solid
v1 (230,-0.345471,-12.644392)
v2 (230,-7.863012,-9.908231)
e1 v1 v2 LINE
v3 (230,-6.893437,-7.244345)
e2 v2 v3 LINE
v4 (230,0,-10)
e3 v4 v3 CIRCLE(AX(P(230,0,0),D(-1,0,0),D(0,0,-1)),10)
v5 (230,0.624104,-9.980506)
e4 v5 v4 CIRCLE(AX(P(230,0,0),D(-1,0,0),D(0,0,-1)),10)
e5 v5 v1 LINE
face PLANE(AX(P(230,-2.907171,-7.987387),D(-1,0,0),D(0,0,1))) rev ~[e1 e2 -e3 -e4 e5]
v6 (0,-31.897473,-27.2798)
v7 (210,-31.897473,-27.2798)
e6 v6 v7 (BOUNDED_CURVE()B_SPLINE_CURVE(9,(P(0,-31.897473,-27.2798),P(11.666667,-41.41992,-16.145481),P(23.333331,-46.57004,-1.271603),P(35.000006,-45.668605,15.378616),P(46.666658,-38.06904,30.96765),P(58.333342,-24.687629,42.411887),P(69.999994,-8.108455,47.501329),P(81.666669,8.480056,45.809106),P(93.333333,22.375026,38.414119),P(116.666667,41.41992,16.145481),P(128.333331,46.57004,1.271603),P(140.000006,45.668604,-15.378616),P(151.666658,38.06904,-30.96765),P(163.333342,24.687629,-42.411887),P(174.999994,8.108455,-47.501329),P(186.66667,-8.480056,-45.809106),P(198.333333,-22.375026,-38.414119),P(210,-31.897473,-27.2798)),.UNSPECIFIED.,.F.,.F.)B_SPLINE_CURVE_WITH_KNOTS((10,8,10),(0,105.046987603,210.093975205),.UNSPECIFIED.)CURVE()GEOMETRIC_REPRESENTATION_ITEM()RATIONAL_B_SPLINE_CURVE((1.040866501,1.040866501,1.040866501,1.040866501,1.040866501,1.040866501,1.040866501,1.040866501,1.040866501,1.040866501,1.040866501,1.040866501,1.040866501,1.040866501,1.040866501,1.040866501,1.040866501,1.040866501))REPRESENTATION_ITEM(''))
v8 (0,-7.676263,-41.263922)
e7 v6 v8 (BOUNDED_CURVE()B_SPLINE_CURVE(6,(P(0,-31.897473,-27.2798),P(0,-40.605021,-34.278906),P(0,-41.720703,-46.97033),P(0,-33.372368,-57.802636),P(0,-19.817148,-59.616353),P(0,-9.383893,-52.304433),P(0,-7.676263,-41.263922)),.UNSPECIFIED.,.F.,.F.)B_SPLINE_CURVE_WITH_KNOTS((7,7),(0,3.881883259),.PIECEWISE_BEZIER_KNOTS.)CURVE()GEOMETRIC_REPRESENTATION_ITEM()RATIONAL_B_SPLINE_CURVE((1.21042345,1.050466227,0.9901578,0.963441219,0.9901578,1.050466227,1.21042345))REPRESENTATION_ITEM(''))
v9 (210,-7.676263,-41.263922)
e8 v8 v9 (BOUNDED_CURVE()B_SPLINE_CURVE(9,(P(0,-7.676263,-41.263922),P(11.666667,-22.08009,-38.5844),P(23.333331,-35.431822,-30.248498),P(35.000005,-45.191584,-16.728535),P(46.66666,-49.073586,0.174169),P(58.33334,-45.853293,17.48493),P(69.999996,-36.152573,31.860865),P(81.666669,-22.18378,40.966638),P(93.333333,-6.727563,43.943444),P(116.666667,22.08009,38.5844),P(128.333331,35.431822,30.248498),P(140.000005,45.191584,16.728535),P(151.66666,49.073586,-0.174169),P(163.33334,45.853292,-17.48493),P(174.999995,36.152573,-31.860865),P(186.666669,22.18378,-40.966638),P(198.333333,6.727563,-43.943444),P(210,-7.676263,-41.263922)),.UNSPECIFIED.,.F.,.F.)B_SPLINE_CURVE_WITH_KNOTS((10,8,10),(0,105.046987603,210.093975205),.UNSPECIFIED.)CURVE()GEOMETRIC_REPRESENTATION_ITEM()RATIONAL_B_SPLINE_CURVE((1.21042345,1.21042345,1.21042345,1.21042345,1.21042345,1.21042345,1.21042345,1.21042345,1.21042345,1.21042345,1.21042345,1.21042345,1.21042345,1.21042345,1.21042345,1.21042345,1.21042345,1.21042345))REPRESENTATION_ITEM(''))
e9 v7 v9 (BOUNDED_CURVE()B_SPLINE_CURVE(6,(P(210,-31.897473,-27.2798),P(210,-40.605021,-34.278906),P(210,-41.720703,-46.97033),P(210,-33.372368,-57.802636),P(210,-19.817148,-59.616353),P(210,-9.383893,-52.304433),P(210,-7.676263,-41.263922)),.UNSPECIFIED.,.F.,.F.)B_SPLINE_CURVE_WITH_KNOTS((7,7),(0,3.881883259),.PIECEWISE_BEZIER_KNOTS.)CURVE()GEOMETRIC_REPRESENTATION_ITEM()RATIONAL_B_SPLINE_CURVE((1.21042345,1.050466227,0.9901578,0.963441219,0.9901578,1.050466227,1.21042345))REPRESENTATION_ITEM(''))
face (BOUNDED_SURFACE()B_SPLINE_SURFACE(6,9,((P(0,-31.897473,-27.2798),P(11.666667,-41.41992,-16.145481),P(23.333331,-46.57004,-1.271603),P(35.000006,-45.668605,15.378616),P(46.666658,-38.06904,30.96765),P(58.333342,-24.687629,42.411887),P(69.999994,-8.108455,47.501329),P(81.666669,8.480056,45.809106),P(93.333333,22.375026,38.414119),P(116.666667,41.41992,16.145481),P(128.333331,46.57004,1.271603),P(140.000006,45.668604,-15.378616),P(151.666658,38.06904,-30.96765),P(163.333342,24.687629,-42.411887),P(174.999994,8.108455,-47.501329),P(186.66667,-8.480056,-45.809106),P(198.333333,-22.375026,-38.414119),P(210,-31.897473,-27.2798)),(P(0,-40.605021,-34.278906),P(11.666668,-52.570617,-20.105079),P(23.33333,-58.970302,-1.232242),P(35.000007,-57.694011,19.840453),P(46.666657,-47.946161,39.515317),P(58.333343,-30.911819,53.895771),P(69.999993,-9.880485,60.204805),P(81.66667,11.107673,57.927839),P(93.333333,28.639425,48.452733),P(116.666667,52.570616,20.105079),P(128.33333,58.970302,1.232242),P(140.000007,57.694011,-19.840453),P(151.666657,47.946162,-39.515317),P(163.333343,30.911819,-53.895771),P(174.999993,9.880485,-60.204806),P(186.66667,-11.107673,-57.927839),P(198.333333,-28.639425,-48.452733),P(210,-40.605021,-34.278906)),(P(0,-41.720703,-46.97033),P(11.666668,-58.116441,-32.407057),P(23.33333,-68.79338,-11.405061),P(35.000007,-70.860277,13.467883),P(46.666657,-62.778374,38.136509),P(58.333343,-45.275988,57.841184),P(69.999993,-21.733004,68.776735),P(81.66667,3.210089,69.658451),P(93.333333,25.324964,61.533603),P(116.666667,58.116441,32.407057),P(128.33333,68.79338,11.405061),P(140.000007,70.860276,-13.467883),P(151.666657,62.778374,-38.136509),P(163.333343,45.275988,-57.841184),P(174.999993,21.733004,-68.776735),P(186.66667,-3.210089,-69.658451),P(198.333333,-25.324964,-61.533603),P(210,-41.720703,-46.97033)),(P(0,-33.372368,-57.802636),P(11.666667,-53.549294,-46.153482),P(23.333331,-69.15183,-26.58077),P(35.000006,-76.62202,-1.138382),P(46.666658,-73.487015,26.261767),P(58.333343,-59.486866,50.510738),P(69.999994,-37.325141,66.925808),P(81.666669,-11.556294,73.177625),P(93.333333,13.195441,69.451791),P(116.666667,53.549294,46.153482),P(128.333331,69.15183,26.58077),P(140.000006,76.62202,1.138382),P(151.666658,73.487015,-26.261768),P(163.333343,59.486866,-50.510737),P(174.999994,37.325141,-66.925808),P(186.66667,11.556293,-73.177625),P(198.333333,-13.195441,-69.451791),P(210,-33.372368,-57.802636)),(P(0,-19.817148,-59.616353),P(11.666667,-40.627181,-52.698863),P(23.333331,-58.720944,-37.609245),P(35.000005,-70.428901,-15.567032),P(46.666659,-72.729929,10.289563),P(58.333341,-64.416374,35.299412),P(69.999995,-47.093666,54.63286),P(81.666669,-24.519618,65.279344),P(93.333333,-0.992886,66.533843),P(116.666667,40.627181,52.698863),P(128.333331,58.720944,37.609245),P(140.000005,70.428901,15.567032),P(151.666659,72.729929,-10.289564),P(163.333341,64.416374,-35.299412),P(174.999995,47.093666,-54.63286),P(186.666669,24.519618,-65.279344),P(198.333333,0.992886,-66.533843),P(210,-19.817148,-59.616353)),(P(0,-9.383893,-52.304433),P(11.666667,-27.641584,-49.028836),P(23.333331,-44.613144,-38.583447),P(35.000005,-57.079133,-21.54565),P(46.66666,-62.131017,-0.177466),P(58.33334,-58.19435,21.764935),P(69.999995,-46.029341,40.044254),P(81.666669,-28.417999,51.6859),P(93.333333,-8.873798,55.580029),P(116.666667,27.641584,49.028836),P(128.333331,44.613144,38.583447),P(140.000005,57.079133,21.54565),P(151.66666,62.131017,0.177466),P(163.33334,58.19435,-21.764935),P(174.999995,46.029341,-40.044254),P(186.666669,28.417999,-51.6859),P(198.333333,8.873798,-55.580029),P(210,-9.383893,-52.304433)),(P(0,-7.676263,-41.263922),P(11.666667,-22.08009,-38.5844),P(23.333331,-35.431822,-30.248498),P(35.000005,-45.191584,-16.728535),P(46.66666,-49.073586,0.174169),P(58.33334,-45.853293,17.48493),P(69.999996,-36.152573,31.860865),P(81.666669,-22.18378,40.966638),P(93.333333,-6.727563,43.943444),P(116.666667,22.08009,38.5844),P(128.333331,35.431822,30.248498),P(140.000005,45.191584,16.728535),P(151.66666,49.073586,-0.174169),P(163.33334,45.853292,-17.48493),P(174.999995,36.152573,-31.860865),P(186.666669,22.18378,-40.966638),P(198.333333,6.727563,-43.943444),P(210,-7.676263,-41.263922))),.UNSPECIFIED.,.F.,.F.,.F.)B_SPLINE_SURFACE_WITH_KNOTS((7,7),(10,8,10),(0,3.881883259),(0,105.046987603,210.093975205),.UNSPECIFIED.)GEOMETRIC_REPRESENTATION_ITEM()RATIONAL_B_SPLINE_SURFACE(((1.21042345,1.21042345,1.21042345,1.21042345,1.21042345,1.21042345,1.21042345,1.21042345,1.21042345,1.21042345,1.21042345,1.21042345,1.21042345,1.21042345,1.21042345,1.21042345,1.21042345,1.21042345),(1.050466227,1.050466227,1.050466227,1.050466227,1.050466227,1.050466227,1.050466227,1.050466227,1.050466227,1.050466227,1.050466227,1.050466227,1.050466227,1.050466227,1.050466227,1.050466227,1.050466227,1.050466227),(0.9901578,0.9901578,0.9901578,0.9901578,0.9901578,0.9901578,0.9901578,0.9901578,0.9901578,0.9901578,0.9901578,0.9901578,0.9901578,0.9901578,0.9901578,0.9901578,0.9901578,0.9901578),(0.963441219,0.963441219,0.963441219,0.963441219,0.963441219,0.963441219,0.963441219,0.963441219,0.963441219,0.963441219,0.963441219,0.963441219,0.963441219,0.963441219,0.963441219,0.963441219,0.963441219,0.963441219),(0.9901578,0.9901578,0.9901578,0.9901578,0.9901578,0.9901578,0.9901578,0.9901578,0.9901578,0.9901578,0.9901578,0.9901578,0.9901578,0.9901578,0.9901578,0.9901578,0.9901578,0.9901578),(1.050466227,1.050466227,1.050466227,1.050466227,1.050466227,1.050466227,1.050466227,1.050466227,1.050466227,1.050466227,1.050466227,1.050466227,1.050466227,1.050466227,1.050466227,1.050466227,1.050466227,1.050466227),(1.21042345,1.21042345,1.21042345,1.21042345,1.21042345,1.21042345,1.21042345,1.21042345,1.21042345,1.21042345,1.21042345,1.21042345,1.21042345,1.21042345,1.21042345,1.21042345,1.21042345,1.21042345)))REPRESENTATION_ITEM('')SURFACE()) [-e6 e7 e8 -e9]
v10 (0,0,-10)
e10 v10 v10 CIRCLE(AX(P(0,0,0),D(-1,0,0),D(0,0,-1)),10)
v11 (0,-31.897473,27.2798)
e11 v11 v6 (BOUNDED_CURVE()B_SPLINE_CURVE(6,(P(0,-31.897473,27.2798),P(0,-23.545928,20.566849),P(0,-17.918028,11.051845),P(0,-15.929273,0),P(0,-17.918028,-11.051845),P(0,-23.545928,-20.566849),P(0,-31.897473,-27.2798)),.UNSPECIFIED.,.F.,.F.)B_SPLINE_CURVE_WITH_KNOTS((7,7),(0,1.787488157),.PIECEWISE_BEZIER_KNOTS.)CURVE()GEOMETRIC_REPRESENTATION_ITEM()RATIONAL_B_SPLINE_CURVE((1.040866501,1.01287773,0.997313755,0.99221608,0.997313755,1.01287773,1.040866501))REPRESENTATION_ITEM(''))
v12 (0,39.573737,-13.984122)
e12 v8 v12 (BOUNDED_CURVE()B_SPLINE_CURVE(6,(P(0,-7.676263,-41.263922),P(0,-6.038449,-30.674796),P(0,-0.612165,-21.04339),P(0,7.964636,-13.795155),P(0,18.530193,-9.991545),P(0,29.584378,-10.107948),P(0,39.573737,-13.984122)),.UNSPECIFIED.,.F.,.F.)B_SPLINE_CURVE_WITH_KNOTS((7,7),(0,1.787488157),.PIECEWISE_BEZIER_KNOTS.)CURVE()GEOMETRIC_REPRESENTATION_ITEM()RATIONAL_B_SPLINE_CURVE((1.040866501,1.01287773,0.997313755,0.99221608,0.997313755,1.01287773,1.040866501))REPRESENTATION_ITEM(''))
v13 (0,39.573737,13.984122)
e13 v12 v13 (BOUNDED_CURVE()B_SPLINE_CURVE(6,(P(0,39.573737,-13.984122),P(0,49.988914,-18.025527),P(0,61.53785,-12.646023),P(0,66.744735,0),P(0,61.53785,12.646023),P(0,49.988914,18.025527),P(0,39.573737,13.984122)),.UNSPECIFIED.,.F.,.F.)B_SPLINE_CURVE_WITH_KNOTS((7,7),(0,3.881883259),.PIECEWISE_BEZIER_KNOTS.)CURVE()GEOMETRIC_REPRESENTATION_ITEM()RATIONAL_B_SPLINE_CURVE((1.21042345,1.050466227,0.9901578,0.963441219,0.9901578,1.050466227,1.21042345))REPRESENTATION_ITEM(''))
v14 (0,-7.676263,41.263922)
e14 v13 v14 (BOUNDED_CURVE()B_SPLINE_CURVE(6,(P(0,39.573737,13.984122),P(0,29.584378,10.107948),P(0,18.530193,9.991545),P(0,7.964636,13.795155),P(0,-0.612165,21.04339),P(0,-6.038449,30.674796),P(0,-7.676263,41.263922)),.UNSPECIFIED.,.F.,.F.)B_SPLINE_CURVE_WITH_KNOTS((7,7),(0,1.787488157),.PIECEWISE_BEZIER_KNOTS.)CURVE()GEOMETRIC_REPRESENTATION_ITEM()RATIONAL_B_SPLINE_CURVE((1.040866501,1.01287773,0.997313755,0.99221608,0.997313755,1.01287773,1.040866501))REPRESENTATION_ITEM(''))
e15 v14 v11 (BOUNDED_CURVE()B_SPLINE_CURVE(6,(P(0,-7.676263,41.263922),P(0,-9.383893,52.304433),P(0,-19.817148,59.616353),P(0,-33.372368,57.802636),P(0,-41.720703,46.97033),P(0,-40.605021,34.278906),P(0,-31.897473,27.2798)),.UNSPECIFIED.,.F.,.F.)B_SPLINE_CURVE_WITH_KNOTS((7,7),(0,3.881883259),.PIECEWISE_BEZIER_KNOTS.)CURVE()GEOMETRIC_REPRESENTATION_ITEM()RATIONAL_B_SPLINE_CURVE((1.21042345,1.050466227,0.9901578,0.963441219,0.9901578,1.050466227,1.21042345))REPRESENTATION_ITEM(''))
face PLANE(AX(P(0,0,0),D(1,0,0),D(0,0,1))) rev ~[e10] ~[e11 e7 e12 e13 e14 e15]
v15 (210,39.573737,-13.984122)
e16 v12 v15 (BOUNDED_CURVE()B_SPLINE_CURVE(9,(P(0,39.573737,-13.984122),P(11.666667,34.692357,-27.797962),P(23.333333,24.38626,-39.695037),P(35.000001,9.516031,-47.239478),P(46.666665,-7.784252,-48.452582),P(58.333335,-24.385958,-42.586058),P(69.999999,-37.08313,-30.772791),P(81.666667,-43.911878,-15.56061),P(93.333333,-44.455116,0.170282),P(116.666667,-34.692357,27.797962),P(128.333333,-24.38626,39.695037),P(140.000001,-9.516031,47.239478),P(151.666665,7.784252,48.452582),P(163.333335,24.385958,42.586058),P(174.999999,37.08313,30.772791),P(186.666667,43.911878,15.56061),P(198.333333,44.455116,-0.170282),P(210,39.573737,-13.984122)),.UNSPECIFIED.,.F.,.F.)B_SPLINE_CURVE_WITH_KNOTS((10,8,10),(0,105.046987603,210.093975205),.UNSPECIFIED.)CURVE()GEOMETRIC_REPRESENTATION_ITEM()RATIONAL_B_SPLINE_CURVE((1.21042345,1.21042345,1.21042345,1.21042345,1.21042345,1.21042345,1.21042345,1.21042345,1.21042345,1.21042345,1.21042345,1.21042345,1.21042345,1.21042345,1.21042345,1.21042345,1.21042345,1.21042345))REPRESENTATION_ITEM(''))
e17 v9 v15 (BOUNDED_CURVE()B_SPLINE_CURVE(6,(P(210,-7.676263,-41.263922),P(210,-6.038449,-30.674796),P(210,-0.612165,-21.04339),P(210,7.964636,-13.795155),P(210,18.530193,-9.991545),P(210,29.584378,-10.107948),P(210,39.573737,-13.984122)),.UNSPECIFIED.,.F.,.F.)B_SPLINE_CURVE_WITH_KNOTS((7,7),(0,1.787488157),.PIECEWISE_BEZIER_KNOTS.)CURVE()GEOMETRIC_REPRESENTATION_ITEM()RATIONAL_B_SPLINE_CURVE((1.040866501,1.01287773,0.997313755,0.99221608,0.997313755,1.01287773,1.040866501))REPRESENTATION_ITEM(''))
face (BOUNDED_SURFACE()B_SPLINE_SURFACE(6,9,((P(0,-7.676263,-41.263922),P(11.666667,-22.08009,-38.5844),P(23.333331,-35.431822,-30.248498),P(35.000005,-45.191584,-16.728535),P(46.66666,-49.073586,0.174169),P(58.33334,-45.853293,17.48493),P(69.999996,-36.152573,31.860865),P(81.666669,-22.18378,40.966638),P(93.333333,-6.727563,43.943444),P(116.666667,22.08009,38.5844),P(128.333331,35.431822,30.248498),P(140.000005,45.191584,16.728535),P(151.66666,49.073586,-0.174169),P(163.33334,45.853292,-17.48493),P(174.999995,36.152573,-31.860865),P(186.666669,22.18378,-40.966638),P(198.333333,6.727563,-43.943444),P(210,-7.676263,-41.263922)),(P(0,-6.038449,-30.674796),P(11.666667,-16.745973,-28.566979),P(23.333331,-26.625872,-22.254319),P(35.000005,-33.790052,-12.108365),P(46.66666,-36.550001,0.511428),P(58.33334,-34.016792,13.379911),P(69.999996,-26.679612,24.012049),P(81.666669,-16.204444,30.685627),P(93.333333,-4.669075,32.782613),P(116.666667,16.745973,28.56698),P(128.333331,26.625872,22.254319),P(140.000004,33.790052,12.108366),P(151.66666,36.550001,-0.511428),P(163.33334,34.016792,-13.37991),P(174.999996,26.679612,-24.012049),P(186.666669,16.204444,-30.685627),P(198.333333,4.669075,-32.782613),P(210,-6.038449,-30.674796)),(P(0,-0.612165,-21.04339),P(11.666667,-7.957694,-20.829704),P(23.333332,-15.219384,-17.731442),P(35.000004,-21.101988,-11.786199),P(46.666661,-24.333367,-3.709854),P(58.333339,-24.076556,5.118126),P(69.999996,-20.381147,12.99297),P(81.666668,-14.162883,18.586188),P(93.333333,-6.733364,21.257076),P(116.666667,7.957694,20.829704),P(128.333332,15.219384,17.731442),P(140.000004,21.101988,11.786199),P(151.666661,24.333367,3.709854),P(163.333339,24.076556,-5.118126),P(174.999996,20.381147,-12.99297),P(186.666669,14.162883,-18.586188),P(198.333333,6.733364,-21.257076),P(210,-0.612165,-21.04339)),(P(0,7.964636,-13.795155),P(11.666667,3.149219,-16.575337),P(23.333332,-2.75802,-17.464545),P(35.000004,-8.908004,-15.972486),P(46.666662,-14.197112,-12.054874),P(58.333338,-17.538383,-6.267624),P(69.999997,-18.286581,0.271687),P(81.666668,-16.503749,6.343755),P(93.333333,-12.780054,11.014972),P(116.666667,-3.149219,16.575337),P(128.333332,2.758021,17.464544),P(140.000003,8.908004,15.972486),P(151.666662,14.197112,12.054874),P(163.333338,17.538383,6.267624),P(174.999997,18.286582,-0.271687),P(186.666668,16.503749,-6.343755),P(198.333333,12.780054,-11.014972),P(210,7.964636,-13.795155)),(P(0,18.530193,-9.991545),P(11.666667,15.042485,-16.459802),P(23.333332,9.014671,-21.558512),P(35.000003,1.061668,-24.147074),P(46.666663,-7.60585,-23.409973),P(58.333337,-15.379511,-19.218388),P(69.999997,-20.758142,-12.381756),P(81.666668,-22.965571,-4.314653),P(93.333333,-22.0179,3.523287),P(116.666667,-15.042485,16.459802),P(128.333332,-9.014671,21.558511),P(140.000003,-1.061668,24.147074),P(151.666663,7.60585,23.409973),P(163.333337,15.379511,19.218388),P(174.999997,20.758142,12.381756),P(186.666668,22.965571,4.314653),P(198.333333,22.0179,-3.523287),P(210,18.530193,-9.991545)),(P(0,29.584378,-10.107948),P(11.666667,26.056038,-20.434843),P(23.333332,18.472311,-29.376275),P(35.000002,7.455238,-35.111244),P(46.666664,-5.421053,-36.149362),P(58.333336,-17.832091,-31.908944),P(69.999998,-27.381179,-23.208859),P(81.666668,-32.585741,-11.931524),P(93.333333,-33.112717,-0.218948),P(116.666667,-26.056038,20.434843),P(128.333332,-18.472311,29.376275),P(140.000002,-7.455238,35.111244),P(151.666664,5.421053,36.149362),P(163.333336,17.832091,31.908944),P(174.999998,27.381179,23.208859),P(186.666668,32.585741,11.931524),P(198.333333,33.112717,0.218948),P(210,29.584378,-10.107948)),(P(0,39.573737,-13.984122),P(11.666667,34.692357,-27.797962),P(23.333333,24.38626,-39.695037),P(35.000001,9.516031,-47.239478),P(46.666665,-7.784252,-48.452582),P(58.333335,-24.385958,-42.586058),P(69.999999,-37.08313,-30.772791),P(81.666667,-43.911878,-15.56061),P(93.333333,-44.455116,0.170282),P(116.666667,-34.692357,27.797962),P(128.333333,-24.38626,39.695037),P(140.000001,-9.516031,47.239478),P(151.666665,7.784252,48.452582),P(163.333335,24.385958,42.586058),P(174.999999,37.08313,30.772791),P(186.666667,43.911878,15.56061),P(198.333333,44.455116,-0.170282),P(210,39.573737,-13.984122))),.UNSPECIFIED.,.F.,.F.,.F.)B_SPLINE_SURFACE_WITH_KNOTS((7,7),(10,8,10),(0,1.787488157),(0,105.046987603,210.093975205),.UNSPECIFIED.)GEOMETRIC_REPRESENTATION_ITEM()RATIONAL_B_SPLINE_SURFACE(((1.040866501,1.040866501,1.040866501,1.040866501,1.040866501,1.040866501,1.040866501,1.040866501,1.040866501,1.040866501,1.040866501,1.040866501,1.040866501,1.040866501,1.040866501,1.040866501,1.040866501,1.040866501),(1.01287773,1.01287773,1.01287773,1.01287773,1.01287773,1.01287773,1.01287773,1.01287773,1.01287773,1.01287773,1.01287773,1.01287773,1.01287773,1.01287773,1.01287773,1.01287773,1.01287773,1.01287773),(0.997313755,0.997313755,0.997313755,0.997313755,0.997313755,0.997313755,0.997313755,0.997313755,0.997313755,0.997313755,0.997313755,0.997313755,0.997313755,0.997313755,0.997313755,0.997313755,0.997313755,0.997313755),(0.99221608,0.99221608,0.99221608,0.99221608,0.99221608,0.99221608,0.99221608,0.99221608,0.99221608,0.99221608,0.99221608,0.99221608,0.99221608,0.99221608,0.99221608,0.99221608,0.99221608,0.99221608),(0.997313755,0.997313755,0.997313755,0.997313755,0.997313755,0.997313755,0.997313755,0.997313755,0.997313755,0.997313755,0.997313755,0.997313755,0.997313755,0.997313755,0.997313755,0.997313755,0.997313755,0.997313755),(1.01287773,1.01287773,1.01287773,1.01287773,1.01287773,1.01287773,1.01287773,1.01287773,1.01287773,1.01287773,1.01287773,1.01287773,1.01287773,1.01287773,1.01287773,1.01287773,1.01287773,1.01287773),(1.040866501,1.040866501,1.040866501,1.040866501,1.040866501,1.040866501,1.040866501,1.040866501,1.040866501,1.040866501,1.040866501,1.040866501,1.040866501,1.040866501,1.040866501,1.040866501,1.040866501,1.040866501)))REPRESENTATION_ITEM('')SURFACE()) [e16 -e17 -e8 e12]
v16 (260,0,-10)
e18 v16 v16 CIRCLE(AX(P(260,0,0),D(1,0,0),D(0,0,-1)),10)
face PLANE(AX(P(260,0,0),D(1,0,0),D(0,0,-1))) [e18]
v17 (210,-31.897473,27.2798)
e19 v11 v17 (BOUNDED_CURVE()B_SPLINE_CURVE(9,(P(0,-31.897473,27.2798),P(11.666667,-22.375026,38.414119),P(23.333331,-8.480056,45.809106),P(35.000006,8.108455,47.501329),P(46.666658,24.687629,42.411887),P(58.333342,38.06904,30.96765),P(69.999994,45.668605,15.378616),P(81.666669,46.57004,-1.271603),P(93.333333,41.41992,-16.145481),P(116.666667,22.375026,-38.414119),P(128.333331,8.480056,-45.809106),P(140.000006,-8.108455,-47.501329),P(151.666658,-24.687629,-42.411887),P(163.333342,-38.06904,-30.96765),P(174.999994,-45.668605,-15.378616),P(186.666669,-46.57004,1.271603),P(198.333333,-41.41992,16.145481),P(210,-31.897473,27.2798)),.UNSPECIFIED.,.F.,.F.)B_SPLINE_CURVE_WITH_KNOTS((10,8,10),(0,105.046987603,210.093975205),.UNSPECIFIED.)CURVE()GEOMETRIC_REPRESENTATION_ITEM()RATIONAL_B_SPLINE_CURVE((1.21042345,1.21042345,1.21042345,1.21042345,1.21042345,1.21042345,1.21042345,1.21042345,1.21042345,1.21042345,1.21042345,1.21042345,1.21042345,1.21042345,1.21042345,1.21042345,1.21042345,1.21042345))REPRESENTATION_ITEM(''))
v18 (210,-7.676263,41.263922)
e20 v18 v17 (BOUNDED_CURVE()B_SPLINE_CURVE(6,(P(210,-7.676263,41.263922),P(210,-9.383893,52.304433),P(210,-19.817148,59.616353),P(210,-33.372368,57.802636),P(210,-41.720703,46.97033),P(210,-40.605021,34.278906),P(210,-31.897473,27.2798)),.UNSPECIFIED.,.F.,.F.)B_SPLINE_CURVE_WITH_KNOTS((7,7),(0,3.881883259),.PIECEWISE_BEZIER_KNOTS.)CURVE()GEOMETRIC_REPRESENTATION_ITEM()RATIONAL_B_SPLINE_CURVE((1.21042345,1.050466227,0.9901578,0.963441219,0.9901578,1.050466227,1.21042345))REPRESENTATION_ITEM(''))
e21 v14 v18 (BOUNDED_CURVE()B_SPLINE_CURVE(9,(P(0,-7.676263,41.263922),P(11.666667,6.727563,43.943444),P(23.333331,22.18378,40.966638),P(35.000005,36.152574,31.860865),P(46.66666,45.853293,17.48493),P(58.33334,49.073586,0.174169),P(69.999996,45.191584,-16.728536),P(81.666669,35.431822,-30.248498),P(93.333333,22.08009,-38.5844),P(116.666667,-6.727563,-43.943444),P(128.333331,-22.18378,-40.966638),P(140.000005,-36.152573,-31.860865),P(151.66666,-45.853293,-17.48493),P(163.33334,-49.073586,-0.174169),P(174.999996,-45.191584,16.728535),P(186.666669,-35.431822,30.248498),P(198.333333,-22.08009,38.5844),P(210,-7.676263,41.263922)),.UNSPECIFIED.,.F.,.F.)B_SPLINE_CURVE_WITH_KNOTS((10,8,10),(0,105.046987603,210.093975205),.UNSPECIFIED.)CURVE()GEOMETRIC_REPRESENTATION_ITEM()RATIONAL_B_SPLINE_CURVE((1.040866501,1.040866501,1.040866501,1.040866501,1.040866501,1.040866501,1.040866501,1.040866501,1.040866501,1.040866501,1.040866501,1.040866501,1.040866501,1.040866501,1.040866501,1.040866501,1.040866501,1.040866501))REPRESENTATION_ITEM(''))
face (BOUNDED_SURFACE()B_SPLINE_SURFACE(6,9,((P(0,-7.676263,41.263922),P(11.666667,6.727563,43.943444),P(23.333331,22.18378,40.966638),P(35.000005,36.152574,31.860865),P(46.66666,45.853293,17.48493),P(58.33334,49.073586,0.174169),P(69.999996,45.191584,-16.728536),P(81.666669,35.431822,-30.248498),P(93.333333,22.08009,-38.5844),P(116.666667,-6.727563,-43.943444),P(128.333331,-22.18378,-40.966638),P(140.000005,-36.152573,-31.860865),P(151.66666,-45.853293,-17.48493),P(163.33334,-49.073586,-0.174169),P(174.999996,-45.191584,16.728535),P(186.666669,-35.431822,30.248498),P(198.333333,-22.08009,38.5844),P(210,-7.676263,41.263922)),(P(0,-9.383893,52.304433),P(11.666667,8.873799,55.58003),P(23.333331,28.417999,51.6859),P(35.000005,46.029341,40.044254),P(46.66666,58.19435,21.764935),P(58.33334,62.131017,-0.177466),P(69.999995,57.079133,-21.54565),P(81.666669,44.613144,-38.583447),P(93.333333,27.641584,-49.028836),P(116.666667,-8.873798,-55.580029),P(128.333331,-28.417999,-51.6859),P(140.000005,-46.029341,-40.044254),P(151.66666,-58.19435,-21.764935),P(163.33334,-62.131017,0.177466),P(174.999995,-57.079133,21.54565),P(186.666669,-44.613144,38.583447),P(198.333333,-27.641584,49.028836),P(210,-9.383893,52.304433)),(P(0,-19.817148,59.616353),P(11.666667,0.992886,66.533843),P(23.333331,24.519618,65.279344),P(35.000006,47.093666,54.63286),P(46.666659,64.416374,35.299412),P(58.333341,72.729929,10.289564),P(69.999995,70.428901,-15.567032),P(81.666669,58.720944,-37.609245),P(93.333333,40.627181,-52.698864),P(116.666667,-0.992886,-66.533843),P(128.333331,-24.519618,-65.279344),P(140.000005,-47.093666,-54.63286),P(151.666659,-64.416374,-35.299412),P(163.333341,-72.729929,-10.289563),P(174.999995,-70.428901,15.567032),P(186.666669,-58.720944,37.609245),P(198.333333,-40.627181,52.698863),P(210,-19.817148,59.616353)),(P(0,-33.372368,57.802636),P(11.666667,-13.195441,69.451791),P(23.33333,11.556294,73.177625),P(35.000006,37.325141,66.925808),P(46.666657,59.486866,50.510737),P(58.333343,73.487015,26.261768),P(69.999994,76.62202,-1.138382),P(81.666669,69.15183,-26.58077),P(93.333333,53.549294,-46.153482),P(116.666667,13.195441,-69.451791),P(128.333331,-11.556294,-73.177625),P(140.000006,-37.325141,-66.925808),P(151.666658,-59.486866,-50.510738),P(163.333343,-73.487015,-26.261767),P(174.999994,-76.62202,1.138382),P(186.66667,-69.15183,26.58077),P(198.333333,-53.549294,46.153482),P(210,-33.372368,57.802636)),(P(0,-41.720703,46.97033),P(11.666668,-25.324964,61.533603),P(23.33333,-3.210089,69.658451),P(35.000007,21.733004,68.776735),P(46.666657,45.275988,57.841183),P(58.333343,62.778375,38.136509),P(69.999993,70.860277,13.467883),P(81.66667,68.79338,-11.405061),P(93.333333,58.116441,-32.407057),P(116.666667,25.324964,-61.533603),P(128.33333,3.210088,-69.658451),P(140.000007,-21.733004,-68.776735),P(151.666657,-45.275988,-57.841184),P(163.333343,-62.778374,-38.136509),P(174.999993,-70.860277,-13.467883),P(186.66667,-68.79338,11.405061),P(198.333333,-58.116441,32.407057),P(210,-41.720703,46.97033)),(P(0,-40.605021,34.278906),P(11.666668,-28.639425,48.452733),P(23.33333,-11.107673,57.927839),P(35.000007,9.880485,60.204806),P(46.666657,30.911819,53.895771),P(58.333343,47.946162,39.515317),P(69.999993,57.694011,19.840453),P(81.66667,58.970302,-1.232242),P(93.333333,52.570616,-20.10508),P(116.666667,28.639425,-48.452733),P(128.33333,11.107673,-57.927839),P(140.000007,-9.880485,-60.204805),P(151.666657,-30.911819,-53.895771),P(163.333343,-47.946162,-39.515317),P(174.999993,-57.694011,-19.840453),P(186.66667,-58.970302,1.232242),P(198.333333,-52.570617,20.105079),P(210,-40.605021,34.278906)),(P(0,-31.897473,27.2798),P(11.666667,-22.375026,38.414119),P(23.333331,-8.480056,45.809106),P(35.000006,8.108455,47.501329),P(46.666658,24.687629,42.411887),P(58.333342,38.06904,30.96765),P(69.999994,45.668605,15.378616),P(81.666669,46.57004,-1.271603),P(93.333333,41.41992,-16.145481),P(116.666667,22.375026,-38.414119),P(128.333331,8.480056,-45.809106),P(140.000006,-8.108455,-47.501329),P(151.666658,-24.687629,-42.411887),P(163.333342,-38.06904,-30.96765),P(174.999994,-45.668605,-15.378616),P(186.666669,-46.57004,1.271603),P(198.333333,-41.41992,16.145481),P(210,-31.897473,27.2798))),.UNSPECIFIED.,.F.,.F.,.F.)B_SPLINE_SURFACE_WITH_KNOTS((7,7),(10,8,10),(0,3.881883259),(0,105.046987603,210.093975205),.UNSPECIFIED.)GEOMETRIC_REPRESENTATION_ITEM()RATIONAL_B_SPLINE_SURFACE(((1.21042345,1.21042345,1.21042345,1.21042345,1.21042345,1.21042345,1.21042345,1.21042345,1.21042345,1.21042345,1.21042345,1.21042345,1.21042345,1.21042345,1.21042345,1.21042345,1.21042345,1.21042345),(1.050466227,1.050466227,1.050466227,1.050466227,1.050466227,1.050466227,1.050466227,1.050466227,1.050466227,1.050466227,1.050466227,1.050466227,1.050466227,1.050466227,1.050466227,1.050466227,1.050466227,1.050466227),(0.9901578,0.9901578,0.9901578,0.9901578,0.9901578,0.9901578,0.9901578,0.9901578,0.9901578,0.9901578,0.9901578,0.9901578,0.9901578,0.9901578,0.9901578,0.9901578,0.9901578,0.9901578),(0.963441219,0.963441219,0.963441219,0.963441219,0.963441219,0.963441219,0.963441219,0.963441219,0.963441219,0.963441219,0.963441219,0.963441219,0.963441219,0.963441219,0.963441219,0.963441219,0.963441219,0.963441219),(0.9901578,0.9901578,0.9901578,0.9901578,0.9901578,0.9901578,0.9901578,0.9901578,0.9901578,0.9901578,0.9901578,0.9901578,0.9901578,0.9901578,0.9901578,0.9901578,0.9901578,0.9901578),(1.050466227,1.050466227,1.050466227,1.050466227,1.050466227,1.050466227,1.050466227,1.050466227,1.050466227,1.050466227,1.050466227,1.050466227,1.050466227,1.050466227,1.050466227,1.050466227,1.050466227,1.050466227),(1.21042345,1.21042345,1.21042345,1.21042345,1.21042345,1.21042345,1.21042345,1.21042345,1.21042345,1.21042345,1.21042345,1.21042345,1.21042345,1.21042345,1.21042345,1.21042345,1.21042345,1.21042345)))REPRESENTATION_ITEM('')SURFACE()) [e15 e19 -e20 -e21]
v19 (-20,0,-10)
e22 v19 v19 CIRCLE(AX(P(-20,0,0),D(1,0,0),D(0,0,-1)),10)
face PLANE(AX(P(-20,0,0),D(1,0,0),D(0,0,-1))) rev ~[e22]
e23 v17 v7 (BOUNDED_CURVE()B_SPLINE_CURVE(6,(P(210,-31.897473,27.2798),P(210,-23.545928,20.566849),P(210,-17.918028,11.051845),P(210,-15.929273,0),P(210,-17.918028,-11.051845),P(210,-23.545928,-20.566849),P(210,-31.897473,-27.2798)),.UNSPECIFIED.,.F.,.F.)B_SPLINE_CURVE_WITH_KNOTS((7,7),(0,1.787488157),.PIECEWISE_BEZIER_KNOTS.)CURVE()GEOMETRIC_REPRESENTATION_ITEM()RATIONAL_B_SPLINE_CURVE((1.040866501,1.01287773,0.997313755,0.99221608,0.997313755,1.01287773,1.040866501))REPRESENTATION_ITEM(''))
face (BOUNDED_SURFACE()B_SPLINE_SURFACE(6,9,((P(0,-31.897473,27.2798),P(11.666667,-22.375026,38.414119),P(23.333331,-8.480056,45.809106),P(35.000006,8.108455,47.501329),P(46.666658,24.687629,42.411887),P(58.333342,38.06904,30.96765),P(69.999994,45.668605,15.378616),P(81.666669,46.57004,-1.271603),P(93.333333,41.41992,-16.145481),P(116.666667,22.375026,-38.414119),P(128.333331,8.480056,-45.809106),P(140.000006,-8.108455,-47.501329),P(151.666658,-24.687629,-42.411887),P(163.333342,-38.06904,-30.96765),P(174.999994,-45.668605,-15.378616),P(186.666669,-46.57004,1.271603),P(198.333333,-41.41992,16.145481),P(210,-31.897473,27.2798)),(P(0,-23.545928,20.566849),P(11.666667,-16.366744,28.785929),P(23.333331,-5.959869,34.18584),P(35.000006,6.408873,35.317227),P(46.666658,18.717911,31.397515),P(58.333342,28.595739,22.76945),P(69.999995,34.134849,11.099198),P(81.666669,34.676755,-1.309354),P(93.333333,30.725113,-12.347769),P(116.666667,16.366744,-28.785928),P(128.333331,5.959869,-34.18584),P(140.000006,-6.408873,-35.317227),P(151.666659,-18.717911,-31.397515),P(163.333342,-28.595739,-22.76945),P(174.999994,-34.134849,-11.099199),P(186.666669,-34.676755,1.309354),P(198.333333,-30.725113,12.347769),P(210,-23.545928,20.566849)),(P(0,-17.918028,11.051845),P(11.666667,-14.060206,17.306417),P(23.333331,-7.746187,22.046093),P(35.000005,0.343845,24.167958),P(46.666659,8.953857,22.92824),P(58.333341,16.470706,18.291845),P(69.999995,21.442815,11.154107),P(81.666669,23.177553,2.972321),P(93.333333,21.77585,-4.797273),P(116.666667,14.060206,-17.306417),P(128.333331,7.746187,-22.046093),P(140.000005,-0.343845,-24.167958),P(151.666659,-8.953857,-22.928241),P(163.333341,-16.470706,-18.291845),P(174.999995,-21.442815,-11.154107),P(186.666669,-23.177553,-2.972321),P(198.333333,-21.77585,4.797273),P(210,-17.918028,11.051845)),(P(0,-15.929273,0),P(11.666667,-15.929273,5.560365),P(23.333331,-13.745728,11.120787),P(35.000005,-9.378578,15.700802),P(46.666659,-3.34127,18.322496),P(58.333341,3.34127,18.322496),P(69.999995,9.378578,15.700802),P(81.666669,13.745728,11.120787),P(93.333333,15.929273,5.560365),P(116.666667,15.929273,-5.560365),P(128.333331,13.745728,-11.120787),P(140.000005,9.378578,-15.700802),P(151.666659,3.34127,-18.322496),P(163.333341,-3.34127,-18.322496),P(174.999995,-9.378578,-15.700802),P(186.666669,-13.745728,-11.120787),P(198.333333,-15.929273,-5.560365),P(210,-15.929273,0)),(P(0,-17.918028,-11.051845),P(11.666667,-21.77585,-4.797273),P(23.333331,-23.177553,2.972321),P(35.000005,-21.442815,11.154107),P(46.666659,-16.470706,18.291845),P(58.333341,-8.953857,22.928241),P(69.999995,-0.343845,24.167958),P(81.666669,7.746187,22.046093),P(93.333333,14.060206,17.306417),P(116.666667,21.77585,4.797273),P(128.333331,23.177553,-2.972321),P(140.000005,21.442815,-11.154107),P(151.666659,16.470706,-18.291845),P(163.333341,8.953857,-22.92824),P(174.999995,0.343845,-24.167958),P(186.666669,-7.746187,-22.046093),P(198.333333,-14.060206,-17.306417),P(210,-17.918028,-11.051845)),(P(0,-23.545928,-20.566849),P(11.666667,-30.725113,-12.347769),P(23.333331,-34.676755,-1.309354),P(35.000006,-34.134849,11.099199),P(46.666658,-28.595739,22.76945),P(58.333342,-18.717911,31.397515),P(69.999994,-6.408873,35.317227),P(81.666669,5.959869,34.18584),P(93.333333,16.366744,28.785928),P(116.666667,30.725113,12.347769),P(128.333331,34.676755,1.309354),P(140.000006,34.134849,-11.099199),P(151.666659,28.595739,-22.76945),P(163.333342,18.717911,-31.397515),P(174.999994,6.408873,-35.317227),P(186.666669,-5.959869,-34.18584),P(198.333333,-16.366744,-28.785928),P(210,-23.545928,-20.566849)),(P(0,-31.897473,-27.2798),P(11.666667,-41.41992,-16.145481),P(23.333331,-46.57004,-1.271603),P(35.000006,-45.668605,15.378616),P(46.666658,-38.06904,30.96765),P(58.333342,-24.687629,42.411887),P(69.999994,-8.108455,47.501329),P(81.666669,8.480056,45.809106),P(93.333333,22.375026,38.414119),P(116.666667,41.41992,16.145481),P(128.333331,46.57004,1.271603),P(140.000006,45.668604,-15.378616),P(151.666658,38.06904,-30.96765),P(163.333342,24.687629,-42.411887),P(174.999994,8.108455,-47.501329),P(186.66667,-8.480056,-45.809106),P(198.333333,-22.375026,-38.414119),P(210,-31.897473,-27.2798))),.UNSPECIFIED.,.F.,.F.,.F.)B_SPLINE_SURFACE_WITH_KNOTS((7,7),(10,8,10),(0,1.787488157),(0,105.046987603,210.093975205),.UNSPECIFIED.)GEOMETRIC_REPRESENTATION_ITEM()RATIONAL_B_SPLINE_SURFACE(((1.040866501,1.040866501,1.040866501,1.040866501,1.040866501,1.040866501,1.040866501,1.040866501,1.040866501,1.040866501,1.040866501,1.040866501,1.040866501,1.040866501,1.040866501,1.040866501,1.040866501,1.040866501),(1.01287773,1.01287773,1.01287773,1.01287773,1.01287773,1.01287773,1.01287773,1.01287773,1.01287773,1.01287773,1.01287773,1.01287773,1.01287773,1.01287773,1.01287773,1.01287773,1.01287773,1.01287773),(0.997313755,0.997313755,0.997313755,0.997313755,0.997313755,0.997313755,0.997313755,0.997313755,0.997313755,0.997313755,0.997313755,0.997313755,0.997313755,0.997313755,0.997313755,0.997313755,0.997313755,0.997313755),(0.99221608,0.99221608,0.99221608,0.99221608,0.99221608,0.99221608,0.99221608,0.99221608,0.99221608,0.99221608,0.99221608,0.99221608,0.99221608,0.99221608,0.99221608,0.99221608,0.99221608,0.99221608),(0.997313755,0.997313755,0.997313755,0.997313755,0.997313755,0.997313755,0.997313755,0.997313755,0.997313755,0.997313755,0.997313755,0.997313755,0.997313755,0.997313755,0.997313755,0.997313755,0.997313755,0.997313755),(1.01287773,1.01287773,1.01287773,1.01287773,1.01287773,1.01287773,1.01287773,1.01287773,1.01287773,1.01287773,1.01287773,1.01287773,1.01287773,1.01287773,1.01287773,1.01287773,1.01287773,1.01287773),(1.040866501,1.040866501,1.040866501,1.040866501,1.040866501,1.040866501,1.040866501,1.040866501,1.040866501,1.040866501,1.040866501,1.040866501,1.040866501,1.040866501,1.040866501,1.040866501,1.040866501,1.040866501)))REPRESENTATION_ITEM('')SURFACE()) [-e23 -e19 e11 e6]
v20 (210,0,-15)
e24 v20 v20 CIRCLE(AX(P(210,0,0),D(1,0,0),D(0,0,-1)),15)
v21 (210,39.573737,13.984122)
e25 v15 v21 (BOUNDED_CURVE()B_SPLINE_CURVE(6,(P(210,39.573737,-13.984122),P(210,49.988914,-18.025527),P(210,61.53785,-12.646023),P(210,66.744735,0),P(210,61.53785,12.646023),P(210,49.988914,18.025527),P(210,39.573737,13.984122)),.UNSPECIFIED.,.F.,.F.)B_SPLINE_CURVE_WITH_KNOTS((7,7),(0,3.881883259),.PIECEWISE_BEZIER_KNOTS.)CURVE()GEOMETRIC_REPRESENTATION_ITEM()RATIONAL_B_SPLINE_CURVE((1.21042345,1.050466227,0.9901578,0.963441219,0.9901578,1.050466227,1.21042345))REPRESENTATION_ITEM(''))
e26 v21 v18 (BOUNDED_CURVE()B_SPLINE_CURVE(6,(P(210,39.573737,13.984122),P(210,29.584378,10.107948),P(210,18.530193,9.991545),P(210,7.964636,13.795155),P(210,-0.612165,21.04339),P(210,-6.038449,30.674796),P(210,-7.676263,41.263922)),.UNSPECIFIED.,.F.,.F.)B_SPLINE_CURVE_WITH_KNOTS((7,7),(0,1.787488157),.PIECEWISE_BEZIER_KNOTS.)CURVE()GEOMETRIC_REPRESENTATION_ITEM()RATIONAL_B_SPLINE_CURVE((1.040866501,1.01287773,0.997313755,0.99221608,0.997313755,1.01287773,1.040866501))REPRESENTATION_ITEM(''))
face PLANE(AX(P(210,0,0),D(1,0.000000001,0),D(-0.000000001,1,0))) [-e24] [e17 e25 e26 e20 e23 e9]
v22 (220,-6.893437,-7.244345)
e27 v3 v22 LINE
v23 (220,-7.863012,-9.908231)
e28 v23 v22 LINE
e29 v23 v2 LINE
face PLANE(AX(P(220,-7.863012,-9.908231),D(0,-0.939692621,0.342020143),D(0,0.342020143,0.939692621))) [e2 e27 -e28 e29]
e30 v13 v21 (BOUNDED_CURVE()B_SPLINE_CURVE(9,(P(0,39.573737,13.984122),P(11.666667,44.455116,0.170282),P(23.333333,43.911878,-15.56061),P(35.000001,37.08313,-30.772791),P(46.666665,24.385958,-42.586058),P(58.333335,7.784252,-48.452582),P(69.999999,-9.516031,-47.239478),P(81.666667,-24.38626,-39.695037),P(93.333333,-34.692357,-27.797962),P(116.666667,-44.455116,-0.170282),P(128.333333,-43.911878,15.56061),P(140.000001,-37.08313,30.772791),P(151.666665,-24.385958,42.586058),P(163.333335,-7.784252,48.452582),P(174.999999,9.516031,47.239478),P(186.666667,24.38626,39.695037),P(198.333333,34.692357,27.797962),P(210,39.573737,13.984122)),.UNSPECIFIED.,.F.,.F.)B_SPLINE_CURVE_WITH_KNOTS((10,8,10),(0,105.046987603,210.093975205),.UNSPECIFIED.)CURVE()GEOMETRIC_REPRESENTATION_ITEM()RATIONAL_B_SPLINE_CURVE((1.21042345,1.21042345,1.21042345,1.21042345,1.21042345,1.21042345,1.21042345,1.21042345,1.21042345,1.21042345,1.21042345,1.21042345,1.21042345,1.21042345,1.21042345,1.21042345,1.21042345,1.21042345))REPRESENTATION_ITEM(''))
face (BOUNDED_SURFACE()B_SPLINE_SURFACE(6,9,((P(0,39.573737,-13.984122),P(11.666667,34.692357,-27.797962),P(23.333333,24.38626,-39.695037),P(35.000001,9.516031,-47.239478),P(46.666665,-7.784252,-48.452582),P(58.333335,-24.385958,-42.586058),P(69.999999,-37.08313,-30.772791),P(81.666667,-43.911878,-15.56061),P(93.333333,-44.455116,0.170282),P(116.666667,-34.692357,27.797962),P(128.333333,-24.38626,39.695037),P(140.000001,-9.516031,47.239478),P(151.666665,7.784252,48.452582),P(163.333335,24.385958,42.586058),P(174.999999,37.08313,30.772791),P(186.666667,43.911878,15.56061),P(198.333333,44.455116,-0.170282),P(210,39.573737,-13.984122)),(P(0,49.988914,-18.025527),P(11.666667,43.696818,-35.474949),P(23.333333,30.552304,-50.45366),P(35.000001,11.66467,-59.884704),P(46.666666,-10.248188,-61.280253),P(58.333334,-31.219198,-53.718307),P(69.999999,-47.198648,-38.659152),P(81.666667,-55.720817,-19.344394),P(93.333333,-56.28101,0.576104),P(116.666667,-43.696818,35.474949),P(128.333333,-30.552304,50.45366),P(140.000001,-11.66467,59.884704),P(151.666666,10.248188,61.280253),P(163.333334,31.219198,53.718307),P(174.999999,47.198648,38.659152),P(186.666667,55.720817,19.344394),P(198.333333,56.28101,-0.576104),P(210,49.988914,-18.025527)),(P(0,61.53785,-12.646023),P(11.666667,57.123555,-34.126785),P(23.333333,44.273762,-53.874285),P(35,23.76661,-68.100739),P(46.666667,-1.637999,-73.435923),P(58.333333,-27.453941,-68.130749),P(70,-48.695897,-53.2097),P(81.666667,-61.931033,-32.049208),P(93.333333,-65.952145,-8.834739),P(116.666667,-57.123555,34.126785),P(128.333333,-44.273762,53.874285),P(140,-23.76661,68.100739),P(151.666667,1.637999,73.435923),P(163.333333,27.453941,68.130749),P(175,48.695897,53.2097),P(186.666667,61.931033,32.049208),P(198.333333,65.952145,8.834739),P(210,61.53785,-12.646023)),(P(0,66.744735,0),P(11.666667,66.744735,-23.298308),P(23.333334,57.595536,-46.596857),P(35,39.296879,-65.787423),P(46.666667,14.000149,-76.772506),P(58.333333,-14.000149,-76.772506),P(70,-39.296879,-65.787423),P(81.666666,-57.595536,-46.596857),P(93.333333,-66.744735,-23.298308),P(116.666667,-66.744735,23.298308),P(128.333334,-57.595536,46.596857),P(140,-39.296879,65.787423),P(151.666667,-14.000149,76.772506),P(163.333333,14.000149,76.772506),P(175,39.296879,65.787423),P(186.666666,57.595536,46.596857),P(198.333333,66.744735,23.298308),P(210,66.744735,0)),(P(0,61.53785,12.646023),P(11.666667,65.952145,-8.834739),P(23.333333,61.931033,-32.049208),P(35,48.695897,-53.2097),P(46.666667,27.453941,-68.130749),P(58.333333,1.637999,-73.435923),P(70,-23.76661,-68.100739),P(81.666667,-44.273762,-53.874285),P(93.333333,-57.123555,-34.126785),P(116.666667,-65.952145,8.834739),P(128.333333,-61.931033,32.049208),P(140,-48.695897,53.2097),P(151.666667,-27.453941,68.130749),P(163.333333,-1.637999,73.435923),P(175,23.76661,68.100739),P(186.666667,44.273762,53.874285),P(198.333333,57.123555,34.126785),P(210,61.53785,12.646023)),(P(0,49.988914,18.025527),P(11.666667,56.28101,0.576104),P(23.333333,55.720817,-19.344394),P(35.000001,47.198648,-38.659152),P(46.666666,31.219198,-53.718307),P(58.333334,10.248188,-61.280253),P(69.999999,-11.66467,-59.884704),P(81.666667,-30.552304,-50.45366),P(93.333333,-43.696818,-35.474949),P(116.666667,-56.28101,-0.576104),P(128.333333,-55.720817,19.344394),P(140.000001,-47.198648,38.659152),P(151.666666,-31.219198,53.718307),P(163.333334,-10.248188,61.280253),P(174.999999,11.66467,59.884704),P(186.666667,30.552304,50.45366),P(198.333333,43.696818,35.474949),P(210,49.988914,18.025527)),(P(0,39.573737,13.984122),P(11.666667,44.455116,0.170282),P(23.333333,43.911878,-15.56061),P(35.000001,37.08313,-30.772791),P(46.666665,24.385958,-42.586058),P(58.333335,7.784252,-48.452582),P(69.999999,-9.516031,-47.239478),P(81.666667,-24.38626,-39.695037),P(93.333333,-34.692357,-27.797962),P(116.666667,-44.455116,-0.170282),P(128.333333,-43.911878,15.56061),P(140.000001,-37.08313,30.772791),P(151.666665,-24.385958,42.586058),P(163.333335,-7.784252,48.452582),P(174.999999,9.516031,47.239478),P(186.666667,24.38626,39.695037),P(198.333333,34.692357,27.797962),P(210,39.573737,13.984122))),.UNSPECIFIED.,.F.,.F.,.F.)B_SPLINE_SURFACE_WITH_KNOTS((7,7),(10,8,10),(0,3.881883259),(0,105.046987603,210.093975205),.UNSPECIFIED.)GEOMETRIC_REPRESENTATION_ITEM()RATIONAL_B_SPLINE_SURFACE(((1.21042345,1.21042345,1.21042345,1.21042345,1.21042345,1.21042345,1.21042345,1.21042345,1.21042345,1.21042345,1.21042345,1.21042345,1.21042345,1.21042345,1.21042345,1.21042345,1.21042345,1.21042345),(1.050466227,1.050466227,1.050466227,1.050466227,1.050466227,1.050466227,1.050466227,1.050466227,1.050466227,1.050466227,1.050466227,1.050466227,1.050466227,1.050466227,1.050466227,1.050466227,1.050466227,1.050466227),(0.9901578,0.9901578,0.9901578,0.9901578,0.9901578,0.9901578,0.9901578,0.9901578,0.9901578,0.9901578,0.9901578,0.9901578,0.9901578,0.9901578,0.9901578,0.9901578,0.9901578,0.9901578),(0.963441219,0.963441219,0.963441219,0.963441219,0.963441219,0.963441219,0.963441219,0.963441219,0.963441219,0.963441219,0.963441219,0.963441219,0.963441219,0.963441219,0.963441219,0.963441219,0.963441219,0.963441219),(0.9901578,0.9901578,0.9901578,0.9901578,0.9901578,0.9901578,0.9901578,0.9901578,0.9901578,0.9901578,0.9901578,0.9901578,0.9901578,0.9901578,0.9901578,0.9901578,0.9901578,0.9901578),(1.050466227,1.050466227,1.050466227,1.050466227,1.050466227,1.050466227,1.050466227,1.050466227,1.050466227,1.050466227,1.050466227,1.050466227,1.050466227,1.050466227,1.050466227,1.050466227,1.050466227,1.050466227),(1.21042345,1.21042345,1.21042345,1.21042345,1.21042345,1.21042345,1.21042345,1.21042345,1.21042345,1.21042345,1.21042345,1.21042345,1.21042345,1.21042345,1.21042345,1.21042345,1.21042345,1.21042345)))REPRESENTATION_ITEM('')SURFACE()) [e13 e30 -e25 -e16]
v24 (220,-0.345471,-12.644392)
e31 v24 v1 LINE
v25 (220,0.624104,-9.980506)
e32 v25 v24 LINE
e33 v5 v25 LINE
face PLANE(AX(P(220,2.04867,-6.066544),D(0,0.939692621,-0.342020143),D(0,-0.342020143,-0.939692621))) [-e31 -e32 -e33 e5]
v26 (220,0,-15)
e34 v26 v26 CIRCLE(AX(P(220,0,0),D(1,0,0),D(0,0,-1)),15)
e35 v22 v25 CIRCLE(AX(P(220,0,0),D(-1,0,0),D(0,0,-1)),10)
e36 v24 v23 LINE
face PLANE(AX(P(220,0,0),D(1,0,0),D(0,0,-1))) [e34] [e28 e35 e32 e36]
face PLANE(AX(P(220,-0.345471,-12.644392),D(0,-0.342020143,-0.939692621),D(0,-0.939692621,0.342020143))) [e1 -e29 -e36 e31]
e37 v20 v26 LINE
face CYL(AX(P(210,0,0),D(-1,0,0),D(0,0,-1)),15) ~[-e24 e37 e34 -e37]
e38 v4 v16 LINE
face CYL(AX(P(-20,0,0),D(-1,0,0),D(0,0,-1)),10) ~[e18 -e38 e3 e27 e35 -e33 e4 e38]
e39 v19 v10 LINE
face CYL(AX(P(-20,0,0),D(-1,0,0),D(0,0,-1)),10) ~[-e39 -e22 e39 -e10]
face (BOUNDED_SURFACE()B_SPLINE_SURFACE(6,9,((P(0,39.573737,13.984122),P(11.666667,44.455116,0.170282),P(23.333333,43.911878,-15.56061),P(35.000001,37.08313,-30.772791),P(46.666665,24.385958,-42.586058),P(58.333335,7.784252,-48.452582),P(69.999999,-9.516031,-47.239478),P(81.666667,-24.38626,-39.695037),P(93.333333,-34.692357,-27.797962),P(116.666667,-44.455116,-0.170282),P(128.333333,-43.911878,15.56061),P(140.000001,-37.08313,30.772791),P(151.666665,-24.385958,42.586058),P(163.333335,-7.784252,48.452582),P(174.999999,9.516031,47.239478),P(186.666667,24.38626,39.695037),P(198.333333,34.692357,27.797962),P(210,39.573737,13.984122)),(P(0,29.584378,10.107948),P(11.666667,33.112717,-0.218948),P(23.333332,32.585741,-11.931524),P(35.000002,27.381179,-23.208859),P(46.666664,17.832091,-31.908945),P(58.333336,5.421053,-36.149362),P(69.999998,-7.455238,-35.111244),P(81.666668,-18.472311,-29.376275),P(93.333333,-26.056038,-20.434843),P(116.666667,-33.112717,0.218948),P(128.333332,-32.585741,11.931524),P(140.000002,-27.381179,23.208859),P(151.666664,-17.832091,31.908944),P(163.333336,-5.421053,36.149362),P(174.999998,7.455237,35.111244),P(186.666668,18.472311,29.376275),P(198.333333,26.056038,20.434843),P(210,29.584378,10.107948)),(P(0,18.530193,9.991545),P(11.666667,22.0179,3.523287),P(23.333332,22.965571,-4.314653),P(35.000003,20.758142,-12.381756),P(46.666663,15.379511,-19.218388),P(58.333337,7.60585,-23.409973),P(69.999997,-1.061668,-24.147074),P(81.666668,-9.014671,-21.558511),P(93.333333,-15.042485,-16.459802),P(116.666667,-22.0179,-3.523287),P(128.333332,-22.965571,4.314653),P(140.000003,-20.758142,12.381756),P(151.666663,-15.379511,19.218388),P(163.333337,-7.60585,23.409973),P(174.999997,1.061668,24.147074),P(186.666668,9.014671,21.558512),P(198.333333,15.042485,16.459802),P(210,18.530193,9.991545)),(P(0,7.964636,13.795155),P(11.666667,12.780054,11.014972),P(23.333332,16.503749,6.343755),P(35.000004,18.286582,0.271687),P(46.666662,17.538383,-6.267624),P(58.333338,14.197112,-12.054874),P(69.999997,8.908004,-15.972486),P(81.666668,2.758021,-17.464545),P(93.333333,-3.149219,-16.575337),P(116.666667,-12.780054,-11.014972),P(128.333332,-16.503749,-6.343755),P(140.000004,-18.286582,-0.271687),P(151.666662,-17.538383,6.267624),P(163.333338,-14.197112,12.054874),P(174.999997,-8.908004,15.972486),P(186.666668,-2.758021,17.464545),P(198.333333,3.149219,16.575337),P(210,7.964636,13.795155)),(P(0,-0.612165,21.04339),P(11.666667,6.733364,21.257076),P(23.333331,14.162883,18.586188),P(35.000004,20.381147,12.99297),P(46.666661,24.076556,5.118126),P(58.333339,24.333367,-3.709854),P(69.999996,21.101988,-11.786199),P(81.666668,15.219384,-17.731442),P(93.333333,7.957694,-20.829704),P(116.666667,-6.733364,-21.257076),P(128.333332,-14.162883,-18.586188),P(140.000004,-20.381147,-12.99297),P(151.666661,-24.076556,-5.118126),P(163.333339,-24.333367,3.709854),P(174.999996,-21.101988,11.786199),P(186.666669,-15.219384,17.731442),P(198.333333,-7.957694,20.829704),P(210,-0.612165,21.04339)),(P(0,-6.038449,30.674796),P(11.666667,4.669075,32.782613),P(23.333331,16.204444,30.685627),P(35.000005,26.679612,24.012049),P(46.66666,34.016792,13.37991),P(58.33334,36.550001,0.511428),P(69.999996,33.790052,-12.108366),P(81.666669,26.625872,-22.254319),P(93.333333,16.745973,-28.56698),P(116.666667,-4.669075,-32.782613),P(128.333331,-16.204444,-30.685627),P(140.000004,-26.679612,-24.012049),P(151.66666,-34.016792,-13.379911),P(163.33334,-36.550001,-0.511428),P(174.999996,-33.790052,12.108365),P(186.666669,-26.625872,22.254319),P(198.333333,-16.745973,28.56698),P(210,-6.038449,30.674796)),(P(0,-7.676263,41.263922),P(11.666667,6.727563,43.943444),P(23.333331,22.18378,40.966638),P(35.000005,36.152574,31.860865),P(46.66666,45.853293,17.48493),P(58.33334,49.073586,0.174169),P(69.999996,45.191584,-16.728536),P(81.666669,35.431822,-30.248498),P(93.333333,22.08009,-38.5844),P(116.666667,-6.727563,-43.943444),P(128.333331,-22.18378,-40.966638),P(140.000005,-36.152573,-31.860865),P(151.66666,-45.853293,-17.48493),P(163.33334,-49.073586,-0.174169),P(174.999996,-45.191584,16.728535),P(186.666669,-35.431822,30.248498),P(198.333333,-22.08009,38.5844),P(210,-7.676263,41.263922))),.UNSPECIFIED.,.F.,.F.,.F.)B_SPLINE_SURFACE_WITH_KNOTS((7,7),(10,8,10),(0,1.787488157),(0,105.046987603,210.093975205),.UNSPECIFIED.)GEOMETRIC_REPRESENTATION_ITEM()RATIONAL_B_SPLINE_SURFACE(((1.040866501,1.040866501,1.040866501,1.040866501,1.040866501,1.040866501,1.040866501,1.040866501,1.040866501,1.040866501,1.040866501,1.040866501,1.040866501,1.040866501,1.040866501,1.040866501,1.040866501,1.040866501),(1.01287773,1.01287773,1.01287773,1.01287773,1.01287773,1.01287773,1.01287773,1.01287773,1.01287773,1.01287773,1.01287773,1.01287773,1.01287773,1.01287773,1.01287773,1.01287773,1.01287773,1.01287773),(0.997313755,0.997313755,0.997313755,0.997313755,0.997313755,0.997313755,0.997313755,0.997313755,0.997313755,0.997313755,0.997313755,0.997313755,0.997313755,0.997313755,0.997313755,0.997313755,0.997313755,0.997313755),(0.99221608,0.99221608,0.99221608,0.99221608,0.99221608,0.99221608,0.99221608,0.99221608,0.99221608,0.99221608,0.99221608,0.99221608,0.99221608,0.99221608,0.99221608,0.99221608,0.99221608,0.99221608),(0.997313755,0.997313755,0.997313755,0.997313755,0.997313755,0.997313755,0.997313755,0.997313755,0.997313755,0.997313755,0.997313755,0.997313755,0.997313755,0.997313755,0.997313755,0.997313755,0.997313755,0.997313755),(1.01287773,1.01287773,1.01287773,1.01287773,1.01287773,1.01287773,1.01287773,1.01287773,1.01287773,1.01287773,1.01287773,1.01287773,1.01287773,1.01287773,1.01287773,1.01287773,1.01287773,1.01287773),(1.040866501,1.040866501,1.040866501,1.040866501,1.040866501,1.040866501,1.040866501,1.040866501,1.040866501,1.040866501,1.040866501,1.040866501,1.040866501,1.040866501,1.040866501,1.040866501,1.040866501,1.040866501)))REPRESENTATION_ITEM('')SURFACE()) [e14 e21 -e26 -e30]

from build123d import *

# Parameters (mm, degrees)
SWEEP1_PITCH             = 210
SWEEP1_HEIGHT            = 210
SWEEP1_RADIUS            = 60
SWEEP1_START_ANGLE       = -90
BOSS_EXTRUDE1_DEPTH      = 50
BOSS_EXTRUDE1_DEPTH_BACK = 230
SKETCH3_R                = 10
SKETCH4_R                = 15
BOSS_EXTRUDE2_DEPTH      = 10
BOSS_EXTRUDE3_DEPTH      = 10


with BuildPart() as part:
    # Sweep1: sweep along a helix
    with BuildLine() as sweep1_path:
        add(Helix(SWEEP1_PITCH, SWEEP1_HEIGHT, SWEEP1_RADIUS, center=(0, 0, 0), direction=(1, 0, 0), lefthand=True, mode=Mode.PRIVATE).rotate(Axis((0, 0, 0), (1, 0, 0)), SWEEP1_START_ANGLE))
    # Sketch1 → Sweep1 (sweep)
    with BuildSketch(Plane(origin=(0, 0, 0), x_dir=(0, 0, -1), z_dir=(1, 0, 0))):
        with BuildLine():
            ThreePointArc((13.984121881, 39.573736532), (0, 60), (-13.984121881, 39.573736532))
            ThreePointArc((-13.984121881, 39.573736532), (-16.30285047, 9.412455108), (-41.2639221, -7.676263468))
            ThreePointArc((-41.2639221, -7.676263468), (-51.961524227, -30), (-27.279800219, -31.897473065))
            ThreePointArc((-27.279800219, -31.897473065), (0, -18.824910215), (27.279800219, -31.897473065))
            ThreePointArc((27.279800219, -31.897473065), (51.961524227, -30), (41.2639221, -7.676263468))
            ThreePointArc((41.2639221, -7.676263468), (16.30285047, 9.412455108), (13.984121881, 39.573736532))
        make_face()
    sweep(path=sweep1_path.line, is_frenet=True)

    # Sketch3 → Boss-Extrude1 (add, two sides: drawn at the far end of the back side and taken through both)
    with BuildSketch(Plane(origin=(210, 0, 0), x_dir=(0, 0, -1), z_dir=(1, 0, 0)).offset(-BOSS_EXTRUDE1_DEPTH_BACK)):
        Circle(SKETCH3_R)
    extrude(amount=BOSS_EXTRUDE1_DEPTH + BOSS_EXTRUDE1_DEPTH_BACK)

    # Sketch4 → Boss-Extrude2 (add)
    with BuildSketch(Plane(origin=(210, 0, 0), x_dir=(0, 0, -1), z_dir=(1, 0, 0))):
        Circle(SKETCH4_R)
    extrude(amount=BOSS_EXTRUDE2_DEPTH)

    # Sketch5 → Boss-Extrude3 (add)
    with BuildSketch(Plane(origin=(220, 0, 0), x_dir=(0, 0, -1), z_dir=(1, 0, 0))):
        Polygon((6.066543677, 2.048669767), (12.644392023, -0.345471237), (9.908230876, -7.863012203), (3.330382531, -5.4688712), align=None)
    extrude(amount=BOSS_EXTRUDE3_DEPTH)


solid = part.part
